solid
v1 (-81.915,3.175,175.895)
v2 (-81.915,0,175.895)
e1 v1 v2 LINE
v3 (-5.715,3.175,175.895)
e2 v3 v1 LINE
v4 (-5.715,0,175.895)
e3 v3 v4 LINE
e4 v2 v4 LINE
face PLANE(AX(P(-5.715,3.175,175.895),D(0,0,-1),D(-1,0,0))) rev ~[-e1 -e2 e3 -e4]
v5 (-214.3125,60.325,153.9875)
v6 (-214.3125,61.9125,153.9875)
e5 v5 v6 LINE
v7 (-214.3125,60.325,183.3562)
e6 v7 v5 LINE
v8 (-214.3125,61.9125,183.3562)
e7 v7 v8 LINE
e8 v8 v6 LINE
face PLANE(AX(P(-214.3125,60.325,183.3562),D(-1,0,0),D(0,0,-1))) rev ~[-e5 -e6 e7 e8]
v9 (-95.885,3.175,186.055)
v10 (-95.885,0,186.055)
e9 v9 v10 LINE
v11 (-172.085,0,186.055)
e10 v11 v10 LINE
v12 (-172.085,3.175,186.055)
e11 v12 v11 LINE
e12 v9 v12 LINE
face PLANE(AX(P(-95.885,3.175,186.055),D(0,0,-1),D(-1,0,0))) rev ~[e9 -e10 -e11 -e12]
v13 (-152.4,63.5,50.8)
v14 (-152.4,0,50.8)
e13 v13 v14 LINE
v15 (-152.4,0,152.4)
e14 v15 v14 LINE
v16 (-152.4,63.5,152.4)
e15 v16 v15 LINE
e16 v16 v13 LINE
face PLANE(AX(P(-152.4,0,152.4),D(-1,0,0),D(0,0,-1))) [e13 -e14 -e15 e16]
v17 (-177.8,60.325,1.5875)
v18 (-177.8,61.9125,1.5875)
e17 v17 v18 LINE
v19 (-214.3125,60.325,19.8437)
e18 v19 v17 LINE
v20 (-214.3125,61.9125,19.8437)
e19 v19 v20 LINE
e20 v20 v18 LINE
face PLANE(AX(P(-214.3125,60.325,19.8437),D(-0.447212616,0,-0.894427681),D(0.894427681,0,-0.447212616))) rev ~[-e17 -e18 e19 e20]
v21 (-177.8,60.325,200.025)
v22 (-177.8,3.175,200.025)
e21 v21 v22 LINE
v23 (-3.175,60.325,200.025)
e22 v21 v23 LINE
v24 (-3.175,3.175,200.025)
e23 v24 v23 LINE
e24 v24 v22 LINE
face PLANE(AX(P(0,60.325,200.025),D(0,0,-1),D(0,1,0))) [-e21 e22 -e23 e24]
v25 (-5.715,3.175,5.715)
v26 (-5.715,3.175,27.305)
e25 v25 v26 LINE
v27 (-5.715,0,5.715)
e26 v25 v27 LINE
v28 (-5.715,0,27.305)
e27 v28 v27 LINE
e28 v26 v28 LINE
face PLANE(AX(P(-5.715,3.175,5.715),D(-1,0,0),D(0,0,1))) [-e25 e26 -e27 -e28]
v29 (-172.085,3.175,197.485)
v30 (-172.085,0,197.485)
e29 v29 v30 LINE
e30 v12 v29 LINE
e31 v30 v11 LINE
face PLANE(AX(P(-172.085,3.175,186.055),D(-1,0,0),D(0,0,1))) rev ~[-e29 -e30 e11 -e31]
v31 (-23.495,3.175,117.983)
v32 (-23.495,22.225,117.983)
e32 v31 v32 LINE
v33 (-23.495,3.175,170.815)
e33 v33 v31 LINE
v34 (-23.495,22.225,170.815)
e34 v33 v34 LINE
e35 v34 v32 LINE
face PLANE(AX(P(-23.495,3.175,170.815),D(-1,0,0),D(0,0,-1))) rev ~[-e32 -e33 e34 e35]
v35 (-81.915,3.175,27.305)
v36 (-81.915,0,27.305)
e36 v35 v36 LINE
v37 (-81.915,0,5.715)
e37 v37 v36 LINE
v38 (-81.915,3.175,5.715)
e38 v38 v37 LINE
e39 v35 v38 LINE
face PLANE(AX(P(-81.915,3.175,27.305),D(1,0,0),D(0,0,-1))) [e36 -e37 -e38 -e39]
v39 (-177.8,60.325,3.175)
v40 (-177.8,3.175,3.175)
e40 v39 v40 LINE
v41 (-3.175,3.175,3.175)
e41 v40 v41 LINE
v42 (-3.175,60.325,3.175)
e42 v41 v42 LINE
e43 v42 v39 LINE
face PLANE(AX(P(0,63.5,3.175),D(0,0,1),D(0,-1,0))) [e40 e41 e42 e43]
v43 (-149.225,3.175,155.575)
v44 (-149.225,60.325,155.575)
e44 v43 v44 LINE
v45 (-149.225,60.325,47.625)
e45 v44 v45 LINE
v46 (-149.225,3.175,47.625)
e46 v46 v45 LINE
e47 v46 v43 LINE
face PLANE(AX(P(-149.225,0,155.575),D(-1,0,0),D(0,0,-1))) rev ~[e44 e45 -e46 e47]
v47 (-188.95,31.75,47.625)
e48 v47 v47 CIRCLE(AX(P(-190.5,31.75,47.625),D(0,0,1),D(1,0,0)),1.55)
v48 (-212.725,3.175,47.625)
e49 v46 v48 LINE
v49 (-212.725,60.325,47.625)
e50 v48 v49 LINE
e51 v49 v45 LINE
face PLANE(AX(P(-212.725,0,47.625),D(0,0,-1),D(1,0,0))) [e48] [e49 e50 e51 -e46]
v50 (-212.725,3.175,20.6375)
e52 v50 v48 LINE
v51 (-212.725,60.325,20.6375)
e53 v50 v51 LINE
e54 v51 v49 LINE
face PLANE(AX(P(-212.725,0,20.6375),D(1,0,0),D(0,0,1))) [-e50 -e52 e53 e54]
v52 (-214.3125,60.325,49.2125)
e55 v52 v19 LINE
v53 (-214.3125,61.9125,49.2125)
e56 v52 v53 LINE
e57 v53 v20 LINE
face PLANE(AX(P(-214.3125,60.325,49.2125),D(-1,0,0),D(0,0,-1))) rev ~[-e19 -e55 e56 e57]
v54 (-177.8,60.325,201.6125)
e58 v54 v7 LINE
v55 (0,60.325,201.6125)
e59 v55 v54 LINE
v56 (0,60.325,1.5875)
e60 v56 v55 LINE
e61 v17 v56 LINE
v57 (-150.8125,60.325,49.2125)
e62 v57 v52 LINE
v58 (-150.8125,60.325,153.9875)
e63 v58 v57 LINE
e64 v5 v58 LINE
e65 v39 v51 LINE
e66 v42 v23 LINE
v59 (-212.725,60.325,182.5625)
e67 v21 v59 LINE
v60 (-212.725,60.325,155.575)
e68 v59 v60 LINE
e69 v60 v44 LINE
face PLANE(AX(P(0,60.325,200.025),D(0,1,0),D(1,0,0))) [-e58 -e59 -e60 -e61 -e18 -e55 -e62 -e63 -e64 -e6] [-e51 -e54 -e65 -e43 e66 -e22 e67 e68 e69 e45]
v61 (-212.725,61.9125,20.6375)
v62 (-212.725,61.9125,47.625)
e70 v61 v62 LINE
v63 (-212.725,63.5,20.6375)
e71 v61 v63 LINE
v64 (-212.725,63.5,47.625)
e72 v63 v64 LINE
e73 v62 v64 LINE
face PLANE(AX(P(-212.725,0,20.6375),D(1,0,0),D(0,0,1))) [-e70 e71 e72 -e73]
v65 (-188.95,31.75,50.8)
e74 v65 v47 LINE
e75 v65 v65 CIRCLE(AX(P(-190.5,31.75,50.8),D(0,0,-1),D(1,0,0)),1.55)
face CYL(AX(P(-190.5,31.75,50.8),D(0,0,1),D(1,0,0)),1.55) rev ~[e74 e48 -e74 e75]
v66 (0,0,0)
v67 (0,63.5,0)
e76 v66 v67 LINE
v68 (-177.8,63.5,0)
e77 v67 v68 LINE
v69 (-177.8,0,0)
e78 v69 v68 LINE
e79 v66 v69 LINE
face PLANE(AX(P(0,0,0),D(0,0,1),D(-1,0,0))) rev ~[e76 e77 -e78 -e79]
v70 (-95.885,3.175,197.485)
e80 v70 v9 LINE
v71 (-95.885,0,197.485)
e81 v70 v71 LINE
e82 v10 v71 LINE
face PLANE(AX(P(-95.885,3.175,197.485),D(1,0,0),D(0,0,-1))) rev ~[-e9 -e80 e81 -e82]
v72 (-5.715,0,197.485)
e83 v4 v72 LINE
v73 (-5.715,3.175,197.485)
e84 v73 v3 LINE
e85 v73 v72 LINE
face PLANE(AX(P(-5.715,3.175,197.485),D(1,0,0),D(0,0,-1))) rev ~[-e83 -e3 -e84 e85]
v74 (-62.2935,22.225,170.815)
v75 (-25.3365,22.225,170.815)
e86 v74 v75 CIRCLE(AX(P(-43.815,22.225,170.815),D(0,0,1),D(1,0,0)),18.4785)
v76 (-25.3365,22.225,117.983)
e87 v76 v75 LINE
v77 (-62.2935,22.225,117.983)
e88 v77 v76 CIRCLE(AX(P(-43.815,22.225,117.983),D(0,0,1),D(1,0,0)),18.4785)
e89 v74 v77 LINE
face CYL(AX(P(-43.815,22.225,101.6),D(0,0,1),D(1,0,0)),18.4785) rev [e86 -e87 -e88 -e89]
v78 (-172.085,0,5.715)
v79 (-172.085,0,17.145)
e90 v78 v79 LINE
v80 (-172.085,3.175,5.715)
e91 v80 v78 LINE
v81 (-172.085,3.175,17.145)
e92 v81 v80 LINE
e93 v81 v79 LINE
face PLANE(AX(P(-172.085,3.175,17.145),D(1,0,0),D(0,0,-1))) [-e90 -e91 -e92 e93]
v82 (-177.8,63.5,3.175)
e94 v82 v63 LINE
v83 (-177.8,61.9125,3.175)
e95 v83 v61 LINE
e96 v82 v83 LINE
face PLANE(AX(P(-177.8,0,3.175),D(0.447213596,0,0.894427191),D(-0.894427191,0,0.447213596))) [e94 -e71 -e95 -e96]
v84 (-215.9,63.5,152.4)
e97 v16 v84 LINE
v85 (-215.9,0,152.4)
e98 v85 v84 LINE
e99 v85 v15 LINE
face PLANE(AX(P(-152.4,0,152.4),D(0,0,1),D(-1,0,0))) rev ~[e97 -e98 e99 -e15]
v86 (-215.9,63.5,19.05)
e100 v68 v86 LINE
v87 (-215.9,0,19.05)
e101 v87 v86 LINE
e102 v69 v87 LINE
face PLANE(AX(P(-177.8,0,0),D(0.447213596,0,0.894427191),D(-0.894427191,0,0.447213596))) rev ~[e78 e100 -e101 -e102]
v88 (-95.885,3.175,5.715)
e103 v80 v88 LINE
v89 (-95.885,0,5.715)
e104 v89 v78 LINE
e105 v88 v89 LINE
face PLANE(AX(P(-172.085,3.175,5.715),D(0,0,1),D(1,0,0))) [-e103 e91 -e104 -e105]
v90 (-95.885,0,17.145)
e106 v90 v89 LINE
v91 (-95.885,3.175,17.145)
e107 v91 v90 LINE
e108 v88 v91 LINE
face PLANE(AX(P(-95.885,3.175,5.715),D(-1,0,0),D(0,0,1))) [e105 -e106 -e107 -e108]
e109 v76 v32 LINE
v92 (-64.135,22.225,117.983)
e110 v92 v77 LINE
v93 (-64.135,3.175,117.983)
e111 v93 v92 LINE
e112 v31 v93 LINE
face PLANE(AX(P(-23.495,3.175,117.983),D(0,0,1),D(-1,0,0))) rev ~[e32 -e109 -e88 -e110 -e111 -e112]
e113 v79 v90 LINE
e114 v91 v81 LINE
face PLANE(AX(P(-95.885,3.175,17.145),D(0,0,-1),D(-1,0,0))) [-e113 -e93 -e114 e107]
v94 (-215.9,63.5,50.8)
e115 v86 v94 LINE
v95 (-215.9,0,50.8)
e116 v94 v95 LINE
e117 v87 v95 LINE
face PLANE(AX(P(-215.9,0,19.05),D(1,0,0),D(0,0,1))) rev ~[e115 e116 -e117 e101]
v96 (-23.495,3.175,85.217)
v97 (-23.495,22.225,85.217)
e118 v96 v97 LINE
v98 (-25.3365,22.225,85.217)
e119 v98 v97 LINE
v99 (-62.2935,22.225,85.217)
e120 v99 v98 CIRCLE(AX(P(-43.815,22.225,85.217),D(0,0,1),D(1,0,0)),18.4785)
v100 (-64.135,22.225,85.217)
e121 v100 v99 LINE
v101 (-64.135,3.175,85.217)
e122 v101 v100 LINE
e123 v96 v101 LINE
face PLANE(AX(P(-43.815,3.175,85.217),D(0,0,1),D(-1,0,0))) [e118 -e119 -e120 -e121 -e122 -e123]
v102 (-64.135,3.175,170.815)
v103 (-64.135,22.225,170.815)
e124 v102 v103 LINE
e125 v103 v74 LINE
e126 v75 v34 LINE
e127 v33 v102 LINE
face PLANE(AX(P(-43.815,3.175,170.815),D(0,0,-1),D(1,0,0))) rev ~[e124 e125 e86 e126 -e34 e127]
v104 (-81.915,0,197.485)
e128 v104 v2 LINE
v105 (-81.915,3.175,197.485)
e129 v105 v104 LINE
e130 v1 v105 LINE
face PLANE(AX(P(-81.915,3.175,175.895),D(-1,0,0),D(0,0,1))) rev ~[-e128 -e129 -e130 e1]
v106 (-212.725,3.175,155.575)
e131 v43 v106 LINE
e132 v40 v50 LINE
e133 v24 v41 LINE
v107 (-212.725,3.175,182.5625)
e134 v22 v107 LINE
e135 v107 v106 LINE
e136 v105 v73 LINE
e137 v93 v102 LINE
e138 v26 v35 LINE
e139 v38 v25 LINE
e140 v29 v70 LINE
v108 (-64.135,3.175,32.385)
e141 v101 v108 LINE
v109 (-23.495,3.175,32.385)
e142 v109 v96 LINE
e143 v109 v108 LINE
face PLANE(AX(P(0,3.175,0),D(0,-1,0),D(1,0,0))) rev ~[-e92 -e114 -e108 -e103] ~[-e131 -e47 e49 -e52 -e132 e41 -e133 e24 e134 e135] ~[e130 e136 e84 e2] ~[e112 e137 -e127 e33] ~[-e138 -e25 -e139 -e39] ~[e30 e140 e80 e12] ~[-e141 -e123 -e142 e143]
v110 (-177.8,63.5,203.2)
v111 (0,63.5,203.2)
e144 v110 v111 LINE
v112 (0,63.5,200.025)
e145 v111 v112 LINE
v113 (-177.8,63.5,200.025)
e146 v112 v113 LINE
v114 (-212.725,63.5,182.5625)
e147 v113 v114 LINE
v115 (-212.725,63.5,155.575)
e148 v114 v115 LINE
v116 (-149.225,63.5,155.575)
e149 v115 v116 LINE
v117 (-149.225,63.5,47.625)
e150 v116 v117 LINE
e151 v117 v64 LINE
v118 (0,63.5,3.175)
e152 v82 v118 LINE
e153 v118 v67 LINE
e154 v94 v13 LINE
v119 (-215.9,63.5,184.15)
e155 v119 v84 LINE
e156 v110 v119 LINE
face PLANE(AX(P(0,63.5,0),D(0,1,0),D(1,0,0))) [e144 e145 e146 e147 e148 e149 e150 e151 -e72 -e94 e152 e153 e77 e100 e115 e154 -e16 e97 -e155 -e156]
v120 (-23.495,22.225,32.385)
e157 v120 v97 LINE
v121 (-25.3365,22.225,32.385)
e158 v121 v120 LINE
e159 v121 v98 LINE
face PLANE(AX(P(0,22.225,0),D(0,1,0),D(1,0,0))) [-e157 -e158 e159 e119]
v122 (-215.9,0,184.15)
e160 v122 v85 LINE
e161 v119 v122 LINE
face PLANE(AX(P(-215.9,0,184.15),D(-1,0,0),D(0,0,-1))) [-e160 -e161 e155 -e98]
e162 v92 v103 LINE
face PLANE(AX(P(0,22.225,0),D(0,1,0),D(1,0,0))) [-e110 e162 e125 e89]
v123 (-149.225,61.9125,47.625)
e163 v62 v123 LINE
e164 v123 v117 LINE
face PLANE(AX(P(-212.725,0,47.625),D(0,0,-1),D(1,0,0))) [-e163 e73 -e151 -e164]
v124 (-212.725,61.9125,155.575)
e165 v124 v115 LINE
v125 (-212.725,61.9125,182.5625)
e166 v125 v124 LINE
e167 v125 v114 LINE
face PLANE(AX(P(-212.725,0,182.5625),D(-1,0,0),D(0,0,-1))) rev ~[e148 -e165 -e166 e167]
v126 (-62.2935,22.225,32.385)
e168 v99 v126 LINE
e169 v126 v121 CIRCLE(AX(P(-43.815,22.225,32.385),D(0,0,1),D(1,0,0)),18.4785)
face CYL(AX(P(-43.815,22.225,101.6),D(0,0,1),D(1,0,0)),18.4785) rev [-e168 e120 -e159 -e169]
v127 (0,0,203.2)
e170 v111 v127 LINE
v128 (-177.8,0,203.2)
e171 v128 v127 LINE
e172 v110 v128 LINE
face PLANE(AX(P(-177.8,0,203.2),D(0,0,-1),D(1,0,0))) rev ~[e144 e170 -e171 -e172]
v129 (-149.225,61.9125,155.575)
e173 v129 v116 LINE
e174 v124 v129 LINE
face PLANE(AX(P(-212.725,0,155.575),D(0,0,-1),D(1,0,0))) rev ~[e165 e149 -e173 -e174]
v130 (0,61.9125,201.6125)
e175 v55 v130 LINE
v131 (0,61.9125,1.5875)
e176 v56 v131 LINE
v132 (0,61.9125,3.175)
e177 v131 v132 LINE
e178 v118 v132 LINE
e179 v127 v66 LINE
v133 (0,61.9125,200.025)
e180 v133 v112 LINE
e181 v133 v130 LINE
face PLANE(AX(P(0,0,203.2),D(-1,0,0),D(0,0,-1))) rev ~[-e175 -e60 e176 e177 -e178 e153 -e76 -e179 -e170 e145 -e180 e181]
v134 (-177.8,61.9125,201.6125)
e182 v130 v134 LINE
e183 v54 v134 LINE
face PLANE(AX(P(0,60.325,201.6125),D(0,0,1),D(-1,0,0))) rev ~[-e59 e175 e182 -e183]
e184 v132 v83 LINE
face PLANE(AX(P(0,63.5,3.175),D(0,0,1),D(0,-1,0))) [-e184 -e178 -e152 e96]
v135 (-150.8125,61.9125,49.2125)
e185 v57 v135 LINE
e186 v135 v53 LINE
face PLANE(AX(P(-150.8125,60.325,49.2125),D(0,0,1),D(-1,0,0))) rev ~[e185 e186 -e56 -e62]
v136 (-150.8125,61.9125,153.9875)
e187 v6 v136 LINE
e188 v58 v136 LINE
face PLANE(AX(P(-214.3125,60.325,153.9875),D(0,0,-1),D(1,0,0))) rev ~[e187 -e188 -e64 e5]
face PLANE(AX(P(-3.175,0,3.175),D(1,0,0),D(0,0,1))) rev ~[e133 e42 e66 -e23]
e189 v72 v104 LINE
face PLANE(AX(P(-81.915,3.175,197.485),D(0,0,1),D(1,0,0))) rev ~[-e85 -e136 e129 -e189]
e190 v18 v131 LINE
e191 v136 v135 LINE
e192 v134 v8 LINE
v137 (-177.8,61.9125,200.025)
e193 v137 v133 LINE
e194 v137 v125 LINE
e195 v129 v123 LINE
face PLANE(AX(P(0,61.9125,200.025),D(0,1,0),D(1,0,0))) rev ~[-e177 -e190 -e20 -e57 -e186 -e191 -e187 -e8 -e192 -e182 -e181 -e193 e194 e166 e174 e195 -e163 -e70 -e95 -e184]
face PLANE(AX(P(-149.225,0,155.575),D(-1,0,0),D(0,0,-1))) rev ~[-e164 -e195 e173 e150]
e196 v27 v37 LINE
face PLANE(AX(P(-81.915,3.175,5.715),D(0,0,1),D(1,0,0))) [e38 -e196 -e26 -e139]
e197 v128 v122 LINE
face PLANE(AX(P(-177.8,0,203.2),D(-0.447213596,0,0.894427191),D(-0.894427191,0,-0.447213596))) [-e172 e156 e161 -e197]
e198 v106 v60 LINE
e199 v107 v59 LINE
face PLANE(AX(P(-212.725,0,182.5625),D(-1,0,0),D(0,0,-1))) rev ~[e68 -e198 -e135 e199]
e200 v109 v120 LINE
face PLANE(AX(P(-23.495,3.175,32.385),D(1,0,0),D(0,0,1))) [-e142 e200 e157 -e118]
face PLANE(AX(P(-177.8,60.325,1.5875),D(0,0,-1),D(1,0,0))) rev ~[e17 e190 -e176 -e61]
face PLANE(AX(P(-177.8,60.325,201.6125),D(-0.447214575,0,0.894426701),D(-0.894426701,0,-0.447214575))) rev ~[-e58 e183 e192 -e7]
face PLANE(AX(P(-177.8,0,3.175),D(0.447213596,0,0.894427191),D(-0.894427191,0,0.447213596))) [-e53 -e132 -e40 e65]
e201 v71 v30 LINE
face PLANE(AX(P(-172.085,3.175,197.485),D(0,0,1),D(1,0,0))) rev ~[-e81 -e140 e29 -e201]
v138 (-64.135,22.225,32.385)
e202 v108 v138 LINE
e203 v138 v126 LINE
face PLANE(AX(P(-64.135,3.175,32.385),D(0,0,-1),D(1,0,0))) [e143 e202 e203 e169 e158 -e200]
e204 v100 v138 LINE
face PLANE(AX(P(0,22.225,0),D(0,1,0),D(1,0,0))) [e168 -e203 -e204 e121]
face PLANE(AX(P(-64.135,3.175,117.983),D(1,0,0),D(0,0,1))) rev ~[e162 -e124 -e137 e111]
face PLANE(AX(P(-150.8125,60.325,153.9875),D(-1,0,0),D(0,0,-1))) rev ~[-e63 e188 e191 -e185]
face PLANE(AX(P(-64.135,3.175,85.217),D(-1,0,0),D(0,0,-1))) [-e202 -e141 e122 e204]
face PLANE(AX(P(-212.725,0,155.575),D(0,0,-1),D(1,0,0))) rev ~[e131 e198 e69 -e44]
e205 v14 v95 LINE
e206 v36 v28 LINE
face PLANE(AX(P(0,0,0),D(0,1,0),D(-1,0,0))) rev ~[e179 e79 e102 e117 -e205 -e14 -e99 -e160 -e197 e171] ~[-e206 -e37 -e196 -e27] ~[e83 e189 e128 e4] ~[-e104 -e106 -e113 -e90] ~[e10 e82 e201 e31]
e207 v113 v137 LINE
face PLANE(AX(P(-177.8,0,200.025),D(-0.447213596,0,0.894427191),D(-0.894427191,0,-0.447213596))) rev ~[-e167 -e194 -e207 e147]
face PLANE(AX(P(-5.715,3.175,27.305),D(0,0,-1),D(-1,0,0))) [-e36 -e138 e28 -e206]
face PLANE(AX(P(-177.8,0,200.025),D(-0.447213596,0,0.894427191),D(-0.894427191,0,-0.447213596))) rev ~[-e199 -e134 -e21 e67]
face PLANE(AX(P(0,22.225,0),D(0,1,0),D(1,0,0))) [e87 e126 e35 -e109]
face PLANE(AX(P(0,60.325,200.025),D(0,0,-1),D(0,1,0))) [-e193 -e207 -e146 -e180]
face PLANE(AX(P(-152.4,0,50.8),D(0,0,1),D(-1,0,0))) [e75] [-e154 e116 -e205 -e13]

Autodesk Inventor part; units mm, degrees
ref_plane "YZ Plane" through (0, 0, 0) normal (1, 0, 0) x (0, 1, 0)
sketch "Sketch1" plane through (0, 0, 0) normal (0, 1, 0) x (-1, 0, 0)
  line L0 (0, 0) -> (177.8, 0)
  line L1 (177.8, 0) -> (177.8, 203.2)
  line L2 (177.8, 203.2) -> (0, 203.2)
  line L3 (0, 203.2) -> (0, 0)
  dimension "Body_Length" = 177.8
  dimension "Body_Width" = 203.2
extrude "Base" add sketch "Sketch1" along normal blind 3.175
sketch "Sketch3" plane through (0, 0, 0) normal (0, 1, 0) x (1, 0, 0)
  line L0 (-177.8, 0) -> (-177.8, -203.2) projected
  line L1 (-177.8, -203.2) -> (0, -203.2) projected
  line L2 (0, -203.2) -> (0, 0) projected
  line L3 (0, 0) -> (-177.8, 0) projected
  line L4 (-174.625, -3.175) -> (-3.175, -3.175)
  line L5 (-3.175, -3.175) -> (-3.175, -200.025)
  line L6 (-3.175, -200.025) -> (-174.625, -200.025)
  line L7 (-174.625, -200.025) -> (-174.625, -155.575)
  line L8 (-152.4, -152.4) -> (-152.4, -50.8)
  line L9 (-174.625, -47.625) -> (-174.625, -3.175)
  line L10 (-177.8, 0) -> (-177.8, -203.2) projected
  line L11 (-174.625, -155.575) -> (-149.225, -155.575)
  line L12 (-149.225, -155.575) -> (-149.225, -47.625)
  line L13 (-149.225, -47.625) -> (-174.625, -47.625)
  line L14 (-152.4, -152.4) -> (-177.8, -152.4)
  line L15 (-152.4, -50.8) -> (-177.8, -50.8)
  dimension "Wall_Thickness" = 3.175
  dimension "Cuttout_Width" = 101.6
  dimension "Cuttout_Depth" = 25.4
  dimension "d30" = 3.175
  dimension "d31" = 3.175
  dimension "d32" = 3.175
  dimension "d33" = 3.175
extrude "Wall" add sketch "Sketch3" along normal blind 63.5 contours L3 L2 L1 L0 L14 L8 L15
sketch "Sketch7" plane through (0, 3.175, 0) normal (0, 1, 0) x (1, 0, 0)
  line L0 (-177.8, -50.8) -> (-177.8, -152.4) projected
  line L1 (-177.8, -152.4) -> (-152.4, -152.4) projected
  line L2 (-152.4, -152.4) -> (-152.4, -50.8) projected
  line L3 (-152.4, -50.8) -> (-177.8, -50.8) projected
  point P0 (0, 0)
extrude "Cuttout" cut sketch "Sketch7" against normal through all
sketch "Sketch2" plane through (0, 3.175, 0) normal (0, 1, 0) x (1, 0, 0)
  line L0 (-172.085, -197.485) -> (-95.885, -197.485)
  line L1 (-95.885, -197.485) -> (-95.885, -186.055)
  line L2 (-95.885, -186.055) -> (-172.085, -186.055)
  line L3 (-172.085, -186.055) -> (-172.085, -197.485)
  line L4 (-81.915, -197.485) -> (-5.715, -197.485)
  line L5 (-5.715, -197.485) -> (-5.715, -175.895)
  line L6 (-5.715, -175.895) -> (-81.915, -175.895)
  line L7 (-81.915, -175.895) -> (-81.915, -197.485)
  line L8 (-177.8, 0) -> (-177.8, -203.2) projected
  line L9 (-177.8, -203.2) -> (0, -203.2) projected
  line L10 (0, -203.2) -> (0, 0) projected
  line L11 (-177.8, -101.6) -> (0, -101.6) construction
  line L12 (-172.085, -5.715) -> (-95.885, -5.715)
  line L13 (-95.885, -5.715) -> (-95.885, -17.145)
  line L14 (-95.885, -17.145) -> (-172.085, -17.145)
  line L15 (-172.085, -17.145) -> (-172.085, -5.715)
  line L16 (-81.915, -5.715) -> (-5.715, -5.715)
  line L17 (-5.715, -5.715) -> (-5.715, -27.305)
  line L18 (-5.715, -27.305) -> (-81.915, -27.305)
  line L19 (-81.915, -27.305) -> (-81.915, -5.715)
  line L20 (-88.9, -203.2) -> (-88.9, 0) construction
  line L21 (0, 0) -> (-177.8, 0) projected
  line L22 (-3.175, -200.025) -> (-174.625, -200.025) projected
  line L23 (-174.625, -200.025) -> (-174.625, -155.575) projected
  line L24 (-3.175, -3.175) -> (-3.175, -200.025) projected
  point P0 (-5.715, -186.69)
  point P1 (-5.715, -16.51)
  dimension "Wheel_Hole_Width" = 11.43
  dimension "Wheel_Hole_Diameter" = 76.2
  dimension "d8" = 76.2
  dimension "Driven_Wheel_Width" = 21.59
  dimension "Wheel_Distance_Side" = 2.54
  dimension "d21" = 6.985
  dimension "Wheel_Distance_Front" = 2.54
  dimension "Wheel_Distance_Back" = 2.54
extrude "Wheels" cut sketch "Sketch2" against normal up to next contours L3 L2 L1 L0 | L7 L6 L5 L4 | L12 L13 L14 L15 | L16 L17 L18 L19
ref_plane "Work Plane2" through (0, 0, 101.6) normal (0, 0, -1) x (-1, 0, 0)
ref_plane "Work Plane3" through (-88.9, 0, 203.2) normal (1, 0, 0) x (0, 0, -1)
sketch "Sketch11" plane through (0, 63.5, 0) normal (0, 1, 0) x (1, 0, 0)
  line L0 (-174.625, -47.625) -> (-174.625, -3.175) projected
  line L1 (-177.8, 0) -> (-177.8, -203.2) projected
  line L2 (-174.625, -3.175) -> (-177.8, -3.175)
  line L3 (-177.8, -3.175) -> (-177.8, -47.625)
  line L4 (-177.8, -47.625) -> (-174.625, -47.625)
  line L5 (-174.625, -47.625) -> (-174.625, -3.175)
  line L6 (-149.225, -155.575) -> (-174.625, -155.575) projected
  line L7 (-177.8, -152.4) -> (-177.8, -203.2) projected
  line L8 (-174.625, -155.575) -> (-177.8, -155.575)
  line L9 (-177.8, -155.575) -> (-177.8, -200.025)
  line L10 (-177.8, -200.025) -> (-174.625, -200.025)
  line L11 (-174.625, -200.025) -> (-174.625, -155.575)
  line L12 (-149.225, -47.625) -> (-174.625, -47.625) projected
  line L13 (-3.175, -200.025) -> (-174.625, -200.025) projected
  point P0 (0, 0)
  point P1 (-203.2, -50.8)
extrude "Extrusion11" cut sketch "Sketch11" against normal up to surface (60.325 mm away)
sketch "Sketch12" plane through (0, 0, 0) normal (0, -1, 0) x (1, 0, 0)
  line L0 (-172.085, 17.145) -> (-95.885, 17.145) projected
  line L1 (-95.885, 17.145) -> (-95.885, 5.715) projected
  line L2 (-95.885, 5.715) -> (-172.085, 5.715) projected
  line L3 (-172.085, 5.715) -> (-172.085, 17.145) projected
  line L4 (-5.715, 175.895) -> (-81.915, 175.895) projected
  line L5 (-81.915, 175.895) -> (-81.915, 197.485) projected
  line L6 (-81.915, 197.485) -> (-5.715, 197.485) projected
  line L7 (-5.715, 197.485) -> (-5.715, 175.895) projected
  line L8 (-5.715, 27.305) -> (-5.715, 5.715) projected
  line L9 (-5.715, 5.715) -> (-81.915, 5.715) projected
  line L10 (-81.915, 5.715) -> (-81.915, 27.305) projected
  line L11 (-81.915, 27.305) -> (-5.715, 27.305) projected
  line L12 (-95.885, 186.055) -> (-172.085, 186.055) projected
  line L13 (-172.085, 186.055) -> (-172.085, 197.485) projected
  line L14 (-172.085, 197.485) -> (-95.885, 197.485) projected
  line L15 (-95.885, 197.485) -> (-95.885, 186.055) projected
  line L16 (-152.4, 50.8) -> (-177.8, 50.8) projected
  line L17 (-177.8, 0) -> (-177.8, 50.8) projected
  line L18 (0, 0) -> (-177.8, 0) projected
  line L19 (0, 203.2) -> (0, 0) projected
  line L20 (-177.8, 203.2) -> (0, 203.2) projected
  line L21 (-177.8, 152.4) -> (-177.8, 203.2) projected
  line L22 (-177.8, 152.4) -> (-152.4, 152.4) projected
  line L23 (-152.4, 152.4) -> (-152.4, 50.8) projected
  line L24 (-3.175, 200.025) -> (-177.8, 200.025) projected
  line L25 (-177.8, 200.025) -> (-177.8, 203.2) projected
  line L26 (-177.8, 203.2) -> (0, 203.2) projected
  line L27 (0, 203.2) -> (0, 0) projected
  line L28 (0, 0) -> (-177.8, 0) projected
  line L29 (-177.8, 0) -> (-177.8, 3.175) projected
  line L30 (-177.8, 3.175) -> (-3.175, 3.175) projected
  line L31 (-3.175, 3.175) -> (-3.175, 200.025) projected
  line L32 (-177.8, 155.575) -> (-149.225, 155.575) projected
  line L33 (-149.225, 155.575) -> (-149.225, 47.625) projected
  line L34 (-149.225, 47.625) -> (-177.8, 47.625) projected
  line L35 (-177.8, 47.625) -> (-177.8, 50.8) projected
  line L36 (-177.8, 50.8) -> (-152.4, 50.8) projected
  line L37 (-152.4, 50.8) -> (-152.4, 152.4) projected
  line L38 (-152.4, 152.4) -> (-177.8, 152.4) projected
  line L39 (-177.8, 152.4) -> (-177.8, 155.575) projected
  line L40 (-177.8, 0) -> (-215.9, 19.05)
  line L41 (-215.9, 19.05) -> (-215.9, 50.8)
  line L42 (-215.9, 50.8) -> (-177.8, 50.8)
  line L43 (-177.8, 3.175) -> (-212.725, 20.6375)
  line L44 (-212.725, 20.6375) -> (-212.725, 47.625)
  line L45 (-212.725, 47.625) -> (-177.8, 47.625)
  line L46 (-152.4, 50.8) -> (-152.4, 152.4) projected
  line L47 (-152.4, 101.6) -> (0, 101.6) construction
  line L48 (-177.8, 203.2) -> (-215.9, 184.15)
  line L49 (-215.9, 184.15) -> (-215.9, 152.4)
  line L50 (-215.9, 152.4) -> (-177.8, 152.4)
  line L51 (-177.8, 200.025) -> (-212.725, 182.5625)
  line L52 (-212.725, 182.5625) -> (-212.725, 155.575)
  line L53 (-212.725, 155.575) -> (-177.8, 155.575)
  line L54 (-95.885, 17.145) -> (-172.085, 17.145) projected
  line L55 (-172.085, 17.145) -> (-172.085, 5.715) projected
  line L56 (-172.085, 5.715) -> (-95.885, 5.715) projected
  line L57 (-95.885, 5.715) -> (-95.885, 17.145) projected
  line L58 (-81.915, 175.895) -> (-5.715, 175.895) projected
  line L59 (-5.715, 175.895) -> (-5.715, 197.485) projected
  line L60 (-5.715, 197.485) -> (-81.915, 197.485) projected
  line L61 (-81.915, 197.485) -> (-81.915, 175.895) projected
  line L62 (-5.715, 5.715) -> (-5.715, 27.305) projected
  line L63 (-5.715, 27.305) -> (-81.915, 27.305) projected
  line L64 (-81.915, 27.305) -> (-81.915, 5.715) projected
  line L65 (-81.915, 5.715) -> (-5.715, 5.715) projected
  line L66 (-172.085, 186.055) -> (-95.885, 186.055) projected
  line L67 (-95.885, 186.055) -> (-95.885, 197.485) projected
  line L68 (-95.885, 197.485) -> (-172.085, 197.485) projected
  line L69 (-172.085, 197.485) -> (-172.085, 186.055) projected
  line L70 (-177.8, 47.625) -> (-149.225, 47.625) projected
  line L71 (-149.225, 47.625) -> (-149.225, 155.575) projected
  line L72 (-149.225, 155.575) -> (-177.8, 155.575) projected
  line L73 (-177.8, 200.025) -> (-177.8, 155.575) projected
  line L74 (-177.8, 200.025) -> (-3.175, 200.025) projected
  line L75 (-3.175, 200.025) -> (-3.175, 3.175) projected
  line L76 (-177.8, 3.175) -> (-3.175, 3.175) projected
  line L77 (-177.8, 47.625) -> (-177.8, 3.175) projected
  point P0 (-203.2, 155.575)
  point P1 (-203.2, 200.025)
  point P2 (-203.2, 152.4)
  point P3 (-203.2, 203.2)
  point P4 (-203.2, 3.175)
  point P5 (-203.2, 47.625)
  point P6 (-203.2, 200.025)
  point P7 (-203.2, 3.175)
  point P8 (-203.2, 155.575)
  point P9 (-203.2, 47.625)
  point P10 (-203.2, 50.8)
  point P11 (-203.2, 0)
  dimension "d52" = 3.175
  dimension "d53" = 38.1
  dimension "d54" = 31.75
extrude "Extrusion12" add sketch "Sketch12" against normal up to surface (3.175 mm away) contours L17 L45 L44 L43 L40 L41 L42 | L17 L43 L44 L45 | L50 L49 L48 L21 L51 L52 L53 | L53 L52 L51 L21
extrude "Extrusion13" add sketch "Sketch12" against normal up to surface (63.5 mm away) contours L17 L45 L44 L43 L40 L41 L42 | L50 L49 L48 L21 L51 L52 L53
ref_plane "Work Plane4" through (0, 31.75, 0) normal (0, -1, 0) x (1, 0, 0)
sketch "Sketch13" plane through (-152.4, 0, 50.8) normal (0, 0, 1) x (1, 0, 0)
  line L0 (0, 0) -> (-63.5, 0) projected
  line L1 (0, 63.5) -> (0, 0) projected
  line L2 (0, 63.5) -> (-63.5, 63.5)
  line L3 (-63.5, 0) -> (-63.5, 63.5) projected
  line L4 (-63.5, 63.5) -> (0, 63.5)
  circle A0 centre (-38.1, 31.75) radius 1.55
  line L5 (195.58, 31.75) -> (-106.68, 31.75) projected
  point P0 (152.4, 0)
  point P1 (-33.3, 76.2)
  point P2 (-30.2, 76.2)
  dimension "d59" = 3.1
  dimension "d74" = 25.4
extrude "Extrusion14" cut sketch "Sketch13" against normal up to surface (3.175 mm away) contours L5 A0 | A0 L5
sketch "Sketch15" plane through (0, 0, 203.2) normal (1, 0, 0) x (0, 0, -1)
  line L0 (0, 63.5) -> (19.05, 63.5) projected
  line L1 (3.175, 63.5) -> (200.025, 63.5)
  line L2 (200.025, 63.5) -> (200.025, 60.325)
  line L3 (200.025, 60.325) -> (3.175, 60.325)
  line L4 (3.175, 60.325) -> (3.175, 63.5)
  line L5 (243.84, 31.75) -> (-40.64, 31.75) projected
  line L6 (3.175, 3.175) -> (200.025, 3.175) projected
  line L7 (3.175, 3.175) -> (3.175, 63.5) projected
  line L8 (200.025, 63.5) -> (3.175, 63.5) projected
  line L9 (200.025, 3.175) -> (200.025, 63.5) projected
  point P0 (203.2, 0)
  point P1 (19.05, 63.5)
  dimension "d75" = 3.175
extrude "Extrusion16" cut sketch "Sketch15" against normal up to surface (3.175 mm away) contours L0 L1 L2 L3 L4
ref_plane "Work Plane5" through (0, 60.325, 200.025) normal (0, 1, 0) x (1, 0, 0)
sketch "Sketch17" plane through (0, 60.325, 200.025) normal (0, 1, 0) x (1, 0, 0)
  line L0 (-177.8, 196.85) -> (-3.175, 196.85) projected
  line L1 (0, 196.85) -> (-3.175, 196.85) projected
  line L2 (-177.8, 196.85) -> (0, 196.85) projected
  line L3 (-177.8, 0) -> (-3.175, 0) projected
  line L4 (0, 0) -> (-177.8, 0) projected
  line L5 (0, 0) -> (-3.175, 0) projected
  line L6 (-212.725, 17.4625) -> (-177.8, 0) projected
  line L7 (-212.725, 17.4625) -> (-177.8, 0) projected
  line L8 (-212.725, 44.45) -> (-212.725, 17.4625) projected
  line L9 (-212.725, 44.45) -> (-212.725, 17.4625) projected
  line L10 (-177.8, 196.85) -> (-212.725, 179.3875) projected
  line L11 (-149.225, 44.45) -> (-212.725, 44.45) projected
  line L12 (-212.725, 44.45) -> (-149.225, 44.45) projected
  line L13 (-149.225, 152.4) -> (-149.225, 44.45) projected
  line L14 (-149.225, 44.45) -> (-149.225, 152.4) projected
  line L15 (-212.725, 179.3875) -> (-212.725, 152.4) projected
  line L16 (-212.725, 179.3875) -> (-212.725, 152.4) projected
  line L17 (-192.05, 152.4) -> (-188.95, 152.4) projected
  line L18 (-212.725, 152.4) -> (-149.225, 152.4) projected
  line L19 (-212.725, 152.4) -> (-149.225, 152.4) projected
  line L20 (0, -3.175) -> (0, 200.025) projected
  line L21 (0, -1.5875) -> (-177.8, -1.5875)
  line L22 (-177.8, -1.5875) -> (-214.3125, 16.6688)
  line L23 (-177.8, -3.175) -> (-215.9, 15.875) projected
  line L24 (-214.3125, 16.6688) -> (-214.3125, 46.0375)
  line L25 (-214.3125, 46.0375) -> (-150.8125, 46.0375)
  line L26 (-150.8125, 46.0375) -> (-150.8125, 150.8125)
  line L27 (-150.8125, 150.8125) -> (-214.3125, 150.8125)
  line L28 (-214.3125, 150.8125) -> (-214.3125, 180.1813)
  line L29 (-214.3125, 180.1813) -> (-177.8, 198.4375)
  line L30 (-177.8, 198.4375) -> (0, 198.4375)
  line L31 (-212.725, 179.3875) -> (-215.9, 180.975) construction
  line L32 (-177.8, 196.85) -> (-177.8, 200.025) construction
  line L33 (-152.4, 149.225) -> (-215.9, 149.225) projected
  line L34 (-212.725, 152.4) -> (-215.9, 149.225) construction
  line L35 (-152.4, 149.225) -> (-149.225, 152.4) construction
  line L36 (-152.4, 47.625) -> (-152.4, 149.225) construction
  line L37 (-152.4, 47.625) -> (-149.225, 44.45) construction
  line L38 (-215.9, 47.625) -> (-152.4, 47.625) construction
  line L39 (-212.725, 44.45) -> (-215.9, 47.625) construction
  line L40 (-212.725, 17.4625) -> (-215.9, 15.875) construction
  line L41 (-177.8, -3.175) -> (-177.8, 0) construction
  line L42 (-177.8, -3.175) -> (0, -3.175) construction
  line L43 (-177.8, 196.85) -> (-212.725, 179.3875) projected
  point P0 (-3.175, 0)
  point P1 (-3.175, 196.85)
  point P2 (0, 198.4375)
  dimension "d87" = 1.5875
  dimension "d88" = 1.5875
extrude "Extrusion17" cut sketch "Sketch17" along normal blind 1.5875
sketch "Sketch20" plane through (0, 3.175, 0) normal (0, 1, 0) x (1, 0, 0)
  line L0 (-64.135, -32.385) -> (-23.495, -32.385)
  line L1 (-23.495, -32.385) -> (-23.495, -85.217)
  line L2 (-23.495, -85.217) -> (-64.135, -85.217)
  line L3 (-64.135, -85.217) -> (-64.135, -32.385)
  line L4 (-5.715, -27.305) -> (-81.915, -27.305) projected
  line L5 (-43.815, -243.84) -> (-43.815, 40.64) projected
  line L6 (-212.725, -47.625) -> (-149.225, -47.625) projected
  line L7 (-149.225, -47.625) -> (-149.225, -155.575) projected
  line L8 (-149.225, -155.575) -> (-212.725, -155.575) projected
  line L9 (-212.725, -155.575) -> (-212.725, -182.5625) projected
  line L10 (-212.725, -182.5625) -> (-177.8, -200.025) projected
  line L11 (-177.8, -200.025) -> (-3.175, -200.025) projected
  line L12 (-3.175, -200.025) -> (-3.175, -3.175) projected
  line L13 (-177.8, -3.175) -> (-3.175, -3.175) projected
  line L14 (-177.8, -3.175) -> (-212.725, -20.6375) projected
  line L15 (-212.725, -20.6375) -> (-212.725, -47.625) projected
  line L16 (-95.885, -17.145) -> (-172.085, -17.145) projected
  line L17 (-172.085, -17.145) -> (-172.085, -5.715) projected
  line L18 (-172.085, -5.715) -> (-95.885, -5.715) projected
  line L19 (-95.885, -5.715) -> (-95.885, -17.145) projected
  line L20 (-81.915, -175.895) -> (-5.715, -175.895) projected
  line L21 (-5.715, -175.895) -> (-5.715, -197.485) projected
  line L22 (-5.715, -197.485) -> (-81.915, -197.485) projected
  line L23 (-81.915, -197.485) -> (-81.915, -175.895) projected
  line L24 (-5.715, -5.715) -> (-5.715, -27.305) projected
  line L25 (-5.715, -27.305) -> (-81.915, -27.305) projected
  line L26 (-81.915, -27.305) -> (-81.915, -5.715) projected
  line L27 (-81.915, -5.715) -> (-5.715, -5.715) projected
  line L28 (-172.085, -186.055) -> (-95.885, -186.055) projected
  line L29 (-95.885, -186.055) -> (-95.885, -197.485) projected
  line L30 (-95.885, -197.485) -> (-172.085, -197.485) projected
  line L31 (-172.085, -197.485) -> (-172.085, -186.055) projected
  line L32 (-149.225, -101.6) -> (-3.175, -101.6) construction
  line L33 (-64.135, -170.815) -> (-23.495, -170.815)
  line L34 (-23.495, -170.815) -> (-23.495, -117.983)
  line L35 (-23.495, -117.983) -> (-64.135, -117.983)
  line L36 (-64.135, -117.983) -> (-64.135, -170.815)
  point P0 (0, 0)
  dimension "d92" = 5.08
  dimension "d93" = 40.64
  dimension "d95" = 52.832
  dimension "d101" = 20.32
extrude "Extrusion18" add sketch "Sketch20" along normal blind 19.05 contours L0 L5 L2 L3 | L0 L1 L2 L5 | L35 L34 L33 L5 | L5 L33 L36 L35
sketch "Sketch22" plane through (0, 0, 101.6) normal (0, 0, -1) x (-1, 0, 0)
  line L0 (64.135, 22.225) -> (23.495, 22.225) projected
  arc A0 (25.3365, 22.225) -> (62.2935, 22.225) centre (43.815, 22.225) ccw
  line L1 (23.495, 3.175) -> (64.135, 3.175) projected
  line L2 (23.495, 3.175) -> (23.495, 22.225) projected
  line L3 (64.135, 22.225) -> (23.495, 22.225) projected
  line L4 (64.135, 3.175) -> (64.135, 22.225) projected
  point P0 (0, 0)
  dimension "d98" = 36.957
extrude "Extrusion19" cut sketch "Sketch22" along normal mid plane 139.7 contours A0 L0
equation "\"Bottom_Thickness\" = Wall_Thickness"
equation "\"d30\" = Wall_Thickness"
equation "\"d31\" = Wall_Thickness"
equation "\"d32\" = Wall_Thickness"
equation "\"d33\" = Wall_Thickness"
equation "\"d8\" = Wheel_Hole_Diameter"
equation "\"Wheel_Distance_Front\" = Wheel_Distance_Back"
equation "\"d52\" = Wall_Thickness"
equation "\"d75\" = Wall_Thickness"
equation "\"d87\" = 0.5 * Wall_Thickness"
equation "\"d89\" = 0.5 * Wall_Thickness"
equation "\"d101\" = 0.5 * d93"
equation "\"d72\" = -0.5 * Wall_Height"
equation "\"Wall_Height\" = 63.5"
properties part number "Bot v1 bottom" material "PBT Plastic"
